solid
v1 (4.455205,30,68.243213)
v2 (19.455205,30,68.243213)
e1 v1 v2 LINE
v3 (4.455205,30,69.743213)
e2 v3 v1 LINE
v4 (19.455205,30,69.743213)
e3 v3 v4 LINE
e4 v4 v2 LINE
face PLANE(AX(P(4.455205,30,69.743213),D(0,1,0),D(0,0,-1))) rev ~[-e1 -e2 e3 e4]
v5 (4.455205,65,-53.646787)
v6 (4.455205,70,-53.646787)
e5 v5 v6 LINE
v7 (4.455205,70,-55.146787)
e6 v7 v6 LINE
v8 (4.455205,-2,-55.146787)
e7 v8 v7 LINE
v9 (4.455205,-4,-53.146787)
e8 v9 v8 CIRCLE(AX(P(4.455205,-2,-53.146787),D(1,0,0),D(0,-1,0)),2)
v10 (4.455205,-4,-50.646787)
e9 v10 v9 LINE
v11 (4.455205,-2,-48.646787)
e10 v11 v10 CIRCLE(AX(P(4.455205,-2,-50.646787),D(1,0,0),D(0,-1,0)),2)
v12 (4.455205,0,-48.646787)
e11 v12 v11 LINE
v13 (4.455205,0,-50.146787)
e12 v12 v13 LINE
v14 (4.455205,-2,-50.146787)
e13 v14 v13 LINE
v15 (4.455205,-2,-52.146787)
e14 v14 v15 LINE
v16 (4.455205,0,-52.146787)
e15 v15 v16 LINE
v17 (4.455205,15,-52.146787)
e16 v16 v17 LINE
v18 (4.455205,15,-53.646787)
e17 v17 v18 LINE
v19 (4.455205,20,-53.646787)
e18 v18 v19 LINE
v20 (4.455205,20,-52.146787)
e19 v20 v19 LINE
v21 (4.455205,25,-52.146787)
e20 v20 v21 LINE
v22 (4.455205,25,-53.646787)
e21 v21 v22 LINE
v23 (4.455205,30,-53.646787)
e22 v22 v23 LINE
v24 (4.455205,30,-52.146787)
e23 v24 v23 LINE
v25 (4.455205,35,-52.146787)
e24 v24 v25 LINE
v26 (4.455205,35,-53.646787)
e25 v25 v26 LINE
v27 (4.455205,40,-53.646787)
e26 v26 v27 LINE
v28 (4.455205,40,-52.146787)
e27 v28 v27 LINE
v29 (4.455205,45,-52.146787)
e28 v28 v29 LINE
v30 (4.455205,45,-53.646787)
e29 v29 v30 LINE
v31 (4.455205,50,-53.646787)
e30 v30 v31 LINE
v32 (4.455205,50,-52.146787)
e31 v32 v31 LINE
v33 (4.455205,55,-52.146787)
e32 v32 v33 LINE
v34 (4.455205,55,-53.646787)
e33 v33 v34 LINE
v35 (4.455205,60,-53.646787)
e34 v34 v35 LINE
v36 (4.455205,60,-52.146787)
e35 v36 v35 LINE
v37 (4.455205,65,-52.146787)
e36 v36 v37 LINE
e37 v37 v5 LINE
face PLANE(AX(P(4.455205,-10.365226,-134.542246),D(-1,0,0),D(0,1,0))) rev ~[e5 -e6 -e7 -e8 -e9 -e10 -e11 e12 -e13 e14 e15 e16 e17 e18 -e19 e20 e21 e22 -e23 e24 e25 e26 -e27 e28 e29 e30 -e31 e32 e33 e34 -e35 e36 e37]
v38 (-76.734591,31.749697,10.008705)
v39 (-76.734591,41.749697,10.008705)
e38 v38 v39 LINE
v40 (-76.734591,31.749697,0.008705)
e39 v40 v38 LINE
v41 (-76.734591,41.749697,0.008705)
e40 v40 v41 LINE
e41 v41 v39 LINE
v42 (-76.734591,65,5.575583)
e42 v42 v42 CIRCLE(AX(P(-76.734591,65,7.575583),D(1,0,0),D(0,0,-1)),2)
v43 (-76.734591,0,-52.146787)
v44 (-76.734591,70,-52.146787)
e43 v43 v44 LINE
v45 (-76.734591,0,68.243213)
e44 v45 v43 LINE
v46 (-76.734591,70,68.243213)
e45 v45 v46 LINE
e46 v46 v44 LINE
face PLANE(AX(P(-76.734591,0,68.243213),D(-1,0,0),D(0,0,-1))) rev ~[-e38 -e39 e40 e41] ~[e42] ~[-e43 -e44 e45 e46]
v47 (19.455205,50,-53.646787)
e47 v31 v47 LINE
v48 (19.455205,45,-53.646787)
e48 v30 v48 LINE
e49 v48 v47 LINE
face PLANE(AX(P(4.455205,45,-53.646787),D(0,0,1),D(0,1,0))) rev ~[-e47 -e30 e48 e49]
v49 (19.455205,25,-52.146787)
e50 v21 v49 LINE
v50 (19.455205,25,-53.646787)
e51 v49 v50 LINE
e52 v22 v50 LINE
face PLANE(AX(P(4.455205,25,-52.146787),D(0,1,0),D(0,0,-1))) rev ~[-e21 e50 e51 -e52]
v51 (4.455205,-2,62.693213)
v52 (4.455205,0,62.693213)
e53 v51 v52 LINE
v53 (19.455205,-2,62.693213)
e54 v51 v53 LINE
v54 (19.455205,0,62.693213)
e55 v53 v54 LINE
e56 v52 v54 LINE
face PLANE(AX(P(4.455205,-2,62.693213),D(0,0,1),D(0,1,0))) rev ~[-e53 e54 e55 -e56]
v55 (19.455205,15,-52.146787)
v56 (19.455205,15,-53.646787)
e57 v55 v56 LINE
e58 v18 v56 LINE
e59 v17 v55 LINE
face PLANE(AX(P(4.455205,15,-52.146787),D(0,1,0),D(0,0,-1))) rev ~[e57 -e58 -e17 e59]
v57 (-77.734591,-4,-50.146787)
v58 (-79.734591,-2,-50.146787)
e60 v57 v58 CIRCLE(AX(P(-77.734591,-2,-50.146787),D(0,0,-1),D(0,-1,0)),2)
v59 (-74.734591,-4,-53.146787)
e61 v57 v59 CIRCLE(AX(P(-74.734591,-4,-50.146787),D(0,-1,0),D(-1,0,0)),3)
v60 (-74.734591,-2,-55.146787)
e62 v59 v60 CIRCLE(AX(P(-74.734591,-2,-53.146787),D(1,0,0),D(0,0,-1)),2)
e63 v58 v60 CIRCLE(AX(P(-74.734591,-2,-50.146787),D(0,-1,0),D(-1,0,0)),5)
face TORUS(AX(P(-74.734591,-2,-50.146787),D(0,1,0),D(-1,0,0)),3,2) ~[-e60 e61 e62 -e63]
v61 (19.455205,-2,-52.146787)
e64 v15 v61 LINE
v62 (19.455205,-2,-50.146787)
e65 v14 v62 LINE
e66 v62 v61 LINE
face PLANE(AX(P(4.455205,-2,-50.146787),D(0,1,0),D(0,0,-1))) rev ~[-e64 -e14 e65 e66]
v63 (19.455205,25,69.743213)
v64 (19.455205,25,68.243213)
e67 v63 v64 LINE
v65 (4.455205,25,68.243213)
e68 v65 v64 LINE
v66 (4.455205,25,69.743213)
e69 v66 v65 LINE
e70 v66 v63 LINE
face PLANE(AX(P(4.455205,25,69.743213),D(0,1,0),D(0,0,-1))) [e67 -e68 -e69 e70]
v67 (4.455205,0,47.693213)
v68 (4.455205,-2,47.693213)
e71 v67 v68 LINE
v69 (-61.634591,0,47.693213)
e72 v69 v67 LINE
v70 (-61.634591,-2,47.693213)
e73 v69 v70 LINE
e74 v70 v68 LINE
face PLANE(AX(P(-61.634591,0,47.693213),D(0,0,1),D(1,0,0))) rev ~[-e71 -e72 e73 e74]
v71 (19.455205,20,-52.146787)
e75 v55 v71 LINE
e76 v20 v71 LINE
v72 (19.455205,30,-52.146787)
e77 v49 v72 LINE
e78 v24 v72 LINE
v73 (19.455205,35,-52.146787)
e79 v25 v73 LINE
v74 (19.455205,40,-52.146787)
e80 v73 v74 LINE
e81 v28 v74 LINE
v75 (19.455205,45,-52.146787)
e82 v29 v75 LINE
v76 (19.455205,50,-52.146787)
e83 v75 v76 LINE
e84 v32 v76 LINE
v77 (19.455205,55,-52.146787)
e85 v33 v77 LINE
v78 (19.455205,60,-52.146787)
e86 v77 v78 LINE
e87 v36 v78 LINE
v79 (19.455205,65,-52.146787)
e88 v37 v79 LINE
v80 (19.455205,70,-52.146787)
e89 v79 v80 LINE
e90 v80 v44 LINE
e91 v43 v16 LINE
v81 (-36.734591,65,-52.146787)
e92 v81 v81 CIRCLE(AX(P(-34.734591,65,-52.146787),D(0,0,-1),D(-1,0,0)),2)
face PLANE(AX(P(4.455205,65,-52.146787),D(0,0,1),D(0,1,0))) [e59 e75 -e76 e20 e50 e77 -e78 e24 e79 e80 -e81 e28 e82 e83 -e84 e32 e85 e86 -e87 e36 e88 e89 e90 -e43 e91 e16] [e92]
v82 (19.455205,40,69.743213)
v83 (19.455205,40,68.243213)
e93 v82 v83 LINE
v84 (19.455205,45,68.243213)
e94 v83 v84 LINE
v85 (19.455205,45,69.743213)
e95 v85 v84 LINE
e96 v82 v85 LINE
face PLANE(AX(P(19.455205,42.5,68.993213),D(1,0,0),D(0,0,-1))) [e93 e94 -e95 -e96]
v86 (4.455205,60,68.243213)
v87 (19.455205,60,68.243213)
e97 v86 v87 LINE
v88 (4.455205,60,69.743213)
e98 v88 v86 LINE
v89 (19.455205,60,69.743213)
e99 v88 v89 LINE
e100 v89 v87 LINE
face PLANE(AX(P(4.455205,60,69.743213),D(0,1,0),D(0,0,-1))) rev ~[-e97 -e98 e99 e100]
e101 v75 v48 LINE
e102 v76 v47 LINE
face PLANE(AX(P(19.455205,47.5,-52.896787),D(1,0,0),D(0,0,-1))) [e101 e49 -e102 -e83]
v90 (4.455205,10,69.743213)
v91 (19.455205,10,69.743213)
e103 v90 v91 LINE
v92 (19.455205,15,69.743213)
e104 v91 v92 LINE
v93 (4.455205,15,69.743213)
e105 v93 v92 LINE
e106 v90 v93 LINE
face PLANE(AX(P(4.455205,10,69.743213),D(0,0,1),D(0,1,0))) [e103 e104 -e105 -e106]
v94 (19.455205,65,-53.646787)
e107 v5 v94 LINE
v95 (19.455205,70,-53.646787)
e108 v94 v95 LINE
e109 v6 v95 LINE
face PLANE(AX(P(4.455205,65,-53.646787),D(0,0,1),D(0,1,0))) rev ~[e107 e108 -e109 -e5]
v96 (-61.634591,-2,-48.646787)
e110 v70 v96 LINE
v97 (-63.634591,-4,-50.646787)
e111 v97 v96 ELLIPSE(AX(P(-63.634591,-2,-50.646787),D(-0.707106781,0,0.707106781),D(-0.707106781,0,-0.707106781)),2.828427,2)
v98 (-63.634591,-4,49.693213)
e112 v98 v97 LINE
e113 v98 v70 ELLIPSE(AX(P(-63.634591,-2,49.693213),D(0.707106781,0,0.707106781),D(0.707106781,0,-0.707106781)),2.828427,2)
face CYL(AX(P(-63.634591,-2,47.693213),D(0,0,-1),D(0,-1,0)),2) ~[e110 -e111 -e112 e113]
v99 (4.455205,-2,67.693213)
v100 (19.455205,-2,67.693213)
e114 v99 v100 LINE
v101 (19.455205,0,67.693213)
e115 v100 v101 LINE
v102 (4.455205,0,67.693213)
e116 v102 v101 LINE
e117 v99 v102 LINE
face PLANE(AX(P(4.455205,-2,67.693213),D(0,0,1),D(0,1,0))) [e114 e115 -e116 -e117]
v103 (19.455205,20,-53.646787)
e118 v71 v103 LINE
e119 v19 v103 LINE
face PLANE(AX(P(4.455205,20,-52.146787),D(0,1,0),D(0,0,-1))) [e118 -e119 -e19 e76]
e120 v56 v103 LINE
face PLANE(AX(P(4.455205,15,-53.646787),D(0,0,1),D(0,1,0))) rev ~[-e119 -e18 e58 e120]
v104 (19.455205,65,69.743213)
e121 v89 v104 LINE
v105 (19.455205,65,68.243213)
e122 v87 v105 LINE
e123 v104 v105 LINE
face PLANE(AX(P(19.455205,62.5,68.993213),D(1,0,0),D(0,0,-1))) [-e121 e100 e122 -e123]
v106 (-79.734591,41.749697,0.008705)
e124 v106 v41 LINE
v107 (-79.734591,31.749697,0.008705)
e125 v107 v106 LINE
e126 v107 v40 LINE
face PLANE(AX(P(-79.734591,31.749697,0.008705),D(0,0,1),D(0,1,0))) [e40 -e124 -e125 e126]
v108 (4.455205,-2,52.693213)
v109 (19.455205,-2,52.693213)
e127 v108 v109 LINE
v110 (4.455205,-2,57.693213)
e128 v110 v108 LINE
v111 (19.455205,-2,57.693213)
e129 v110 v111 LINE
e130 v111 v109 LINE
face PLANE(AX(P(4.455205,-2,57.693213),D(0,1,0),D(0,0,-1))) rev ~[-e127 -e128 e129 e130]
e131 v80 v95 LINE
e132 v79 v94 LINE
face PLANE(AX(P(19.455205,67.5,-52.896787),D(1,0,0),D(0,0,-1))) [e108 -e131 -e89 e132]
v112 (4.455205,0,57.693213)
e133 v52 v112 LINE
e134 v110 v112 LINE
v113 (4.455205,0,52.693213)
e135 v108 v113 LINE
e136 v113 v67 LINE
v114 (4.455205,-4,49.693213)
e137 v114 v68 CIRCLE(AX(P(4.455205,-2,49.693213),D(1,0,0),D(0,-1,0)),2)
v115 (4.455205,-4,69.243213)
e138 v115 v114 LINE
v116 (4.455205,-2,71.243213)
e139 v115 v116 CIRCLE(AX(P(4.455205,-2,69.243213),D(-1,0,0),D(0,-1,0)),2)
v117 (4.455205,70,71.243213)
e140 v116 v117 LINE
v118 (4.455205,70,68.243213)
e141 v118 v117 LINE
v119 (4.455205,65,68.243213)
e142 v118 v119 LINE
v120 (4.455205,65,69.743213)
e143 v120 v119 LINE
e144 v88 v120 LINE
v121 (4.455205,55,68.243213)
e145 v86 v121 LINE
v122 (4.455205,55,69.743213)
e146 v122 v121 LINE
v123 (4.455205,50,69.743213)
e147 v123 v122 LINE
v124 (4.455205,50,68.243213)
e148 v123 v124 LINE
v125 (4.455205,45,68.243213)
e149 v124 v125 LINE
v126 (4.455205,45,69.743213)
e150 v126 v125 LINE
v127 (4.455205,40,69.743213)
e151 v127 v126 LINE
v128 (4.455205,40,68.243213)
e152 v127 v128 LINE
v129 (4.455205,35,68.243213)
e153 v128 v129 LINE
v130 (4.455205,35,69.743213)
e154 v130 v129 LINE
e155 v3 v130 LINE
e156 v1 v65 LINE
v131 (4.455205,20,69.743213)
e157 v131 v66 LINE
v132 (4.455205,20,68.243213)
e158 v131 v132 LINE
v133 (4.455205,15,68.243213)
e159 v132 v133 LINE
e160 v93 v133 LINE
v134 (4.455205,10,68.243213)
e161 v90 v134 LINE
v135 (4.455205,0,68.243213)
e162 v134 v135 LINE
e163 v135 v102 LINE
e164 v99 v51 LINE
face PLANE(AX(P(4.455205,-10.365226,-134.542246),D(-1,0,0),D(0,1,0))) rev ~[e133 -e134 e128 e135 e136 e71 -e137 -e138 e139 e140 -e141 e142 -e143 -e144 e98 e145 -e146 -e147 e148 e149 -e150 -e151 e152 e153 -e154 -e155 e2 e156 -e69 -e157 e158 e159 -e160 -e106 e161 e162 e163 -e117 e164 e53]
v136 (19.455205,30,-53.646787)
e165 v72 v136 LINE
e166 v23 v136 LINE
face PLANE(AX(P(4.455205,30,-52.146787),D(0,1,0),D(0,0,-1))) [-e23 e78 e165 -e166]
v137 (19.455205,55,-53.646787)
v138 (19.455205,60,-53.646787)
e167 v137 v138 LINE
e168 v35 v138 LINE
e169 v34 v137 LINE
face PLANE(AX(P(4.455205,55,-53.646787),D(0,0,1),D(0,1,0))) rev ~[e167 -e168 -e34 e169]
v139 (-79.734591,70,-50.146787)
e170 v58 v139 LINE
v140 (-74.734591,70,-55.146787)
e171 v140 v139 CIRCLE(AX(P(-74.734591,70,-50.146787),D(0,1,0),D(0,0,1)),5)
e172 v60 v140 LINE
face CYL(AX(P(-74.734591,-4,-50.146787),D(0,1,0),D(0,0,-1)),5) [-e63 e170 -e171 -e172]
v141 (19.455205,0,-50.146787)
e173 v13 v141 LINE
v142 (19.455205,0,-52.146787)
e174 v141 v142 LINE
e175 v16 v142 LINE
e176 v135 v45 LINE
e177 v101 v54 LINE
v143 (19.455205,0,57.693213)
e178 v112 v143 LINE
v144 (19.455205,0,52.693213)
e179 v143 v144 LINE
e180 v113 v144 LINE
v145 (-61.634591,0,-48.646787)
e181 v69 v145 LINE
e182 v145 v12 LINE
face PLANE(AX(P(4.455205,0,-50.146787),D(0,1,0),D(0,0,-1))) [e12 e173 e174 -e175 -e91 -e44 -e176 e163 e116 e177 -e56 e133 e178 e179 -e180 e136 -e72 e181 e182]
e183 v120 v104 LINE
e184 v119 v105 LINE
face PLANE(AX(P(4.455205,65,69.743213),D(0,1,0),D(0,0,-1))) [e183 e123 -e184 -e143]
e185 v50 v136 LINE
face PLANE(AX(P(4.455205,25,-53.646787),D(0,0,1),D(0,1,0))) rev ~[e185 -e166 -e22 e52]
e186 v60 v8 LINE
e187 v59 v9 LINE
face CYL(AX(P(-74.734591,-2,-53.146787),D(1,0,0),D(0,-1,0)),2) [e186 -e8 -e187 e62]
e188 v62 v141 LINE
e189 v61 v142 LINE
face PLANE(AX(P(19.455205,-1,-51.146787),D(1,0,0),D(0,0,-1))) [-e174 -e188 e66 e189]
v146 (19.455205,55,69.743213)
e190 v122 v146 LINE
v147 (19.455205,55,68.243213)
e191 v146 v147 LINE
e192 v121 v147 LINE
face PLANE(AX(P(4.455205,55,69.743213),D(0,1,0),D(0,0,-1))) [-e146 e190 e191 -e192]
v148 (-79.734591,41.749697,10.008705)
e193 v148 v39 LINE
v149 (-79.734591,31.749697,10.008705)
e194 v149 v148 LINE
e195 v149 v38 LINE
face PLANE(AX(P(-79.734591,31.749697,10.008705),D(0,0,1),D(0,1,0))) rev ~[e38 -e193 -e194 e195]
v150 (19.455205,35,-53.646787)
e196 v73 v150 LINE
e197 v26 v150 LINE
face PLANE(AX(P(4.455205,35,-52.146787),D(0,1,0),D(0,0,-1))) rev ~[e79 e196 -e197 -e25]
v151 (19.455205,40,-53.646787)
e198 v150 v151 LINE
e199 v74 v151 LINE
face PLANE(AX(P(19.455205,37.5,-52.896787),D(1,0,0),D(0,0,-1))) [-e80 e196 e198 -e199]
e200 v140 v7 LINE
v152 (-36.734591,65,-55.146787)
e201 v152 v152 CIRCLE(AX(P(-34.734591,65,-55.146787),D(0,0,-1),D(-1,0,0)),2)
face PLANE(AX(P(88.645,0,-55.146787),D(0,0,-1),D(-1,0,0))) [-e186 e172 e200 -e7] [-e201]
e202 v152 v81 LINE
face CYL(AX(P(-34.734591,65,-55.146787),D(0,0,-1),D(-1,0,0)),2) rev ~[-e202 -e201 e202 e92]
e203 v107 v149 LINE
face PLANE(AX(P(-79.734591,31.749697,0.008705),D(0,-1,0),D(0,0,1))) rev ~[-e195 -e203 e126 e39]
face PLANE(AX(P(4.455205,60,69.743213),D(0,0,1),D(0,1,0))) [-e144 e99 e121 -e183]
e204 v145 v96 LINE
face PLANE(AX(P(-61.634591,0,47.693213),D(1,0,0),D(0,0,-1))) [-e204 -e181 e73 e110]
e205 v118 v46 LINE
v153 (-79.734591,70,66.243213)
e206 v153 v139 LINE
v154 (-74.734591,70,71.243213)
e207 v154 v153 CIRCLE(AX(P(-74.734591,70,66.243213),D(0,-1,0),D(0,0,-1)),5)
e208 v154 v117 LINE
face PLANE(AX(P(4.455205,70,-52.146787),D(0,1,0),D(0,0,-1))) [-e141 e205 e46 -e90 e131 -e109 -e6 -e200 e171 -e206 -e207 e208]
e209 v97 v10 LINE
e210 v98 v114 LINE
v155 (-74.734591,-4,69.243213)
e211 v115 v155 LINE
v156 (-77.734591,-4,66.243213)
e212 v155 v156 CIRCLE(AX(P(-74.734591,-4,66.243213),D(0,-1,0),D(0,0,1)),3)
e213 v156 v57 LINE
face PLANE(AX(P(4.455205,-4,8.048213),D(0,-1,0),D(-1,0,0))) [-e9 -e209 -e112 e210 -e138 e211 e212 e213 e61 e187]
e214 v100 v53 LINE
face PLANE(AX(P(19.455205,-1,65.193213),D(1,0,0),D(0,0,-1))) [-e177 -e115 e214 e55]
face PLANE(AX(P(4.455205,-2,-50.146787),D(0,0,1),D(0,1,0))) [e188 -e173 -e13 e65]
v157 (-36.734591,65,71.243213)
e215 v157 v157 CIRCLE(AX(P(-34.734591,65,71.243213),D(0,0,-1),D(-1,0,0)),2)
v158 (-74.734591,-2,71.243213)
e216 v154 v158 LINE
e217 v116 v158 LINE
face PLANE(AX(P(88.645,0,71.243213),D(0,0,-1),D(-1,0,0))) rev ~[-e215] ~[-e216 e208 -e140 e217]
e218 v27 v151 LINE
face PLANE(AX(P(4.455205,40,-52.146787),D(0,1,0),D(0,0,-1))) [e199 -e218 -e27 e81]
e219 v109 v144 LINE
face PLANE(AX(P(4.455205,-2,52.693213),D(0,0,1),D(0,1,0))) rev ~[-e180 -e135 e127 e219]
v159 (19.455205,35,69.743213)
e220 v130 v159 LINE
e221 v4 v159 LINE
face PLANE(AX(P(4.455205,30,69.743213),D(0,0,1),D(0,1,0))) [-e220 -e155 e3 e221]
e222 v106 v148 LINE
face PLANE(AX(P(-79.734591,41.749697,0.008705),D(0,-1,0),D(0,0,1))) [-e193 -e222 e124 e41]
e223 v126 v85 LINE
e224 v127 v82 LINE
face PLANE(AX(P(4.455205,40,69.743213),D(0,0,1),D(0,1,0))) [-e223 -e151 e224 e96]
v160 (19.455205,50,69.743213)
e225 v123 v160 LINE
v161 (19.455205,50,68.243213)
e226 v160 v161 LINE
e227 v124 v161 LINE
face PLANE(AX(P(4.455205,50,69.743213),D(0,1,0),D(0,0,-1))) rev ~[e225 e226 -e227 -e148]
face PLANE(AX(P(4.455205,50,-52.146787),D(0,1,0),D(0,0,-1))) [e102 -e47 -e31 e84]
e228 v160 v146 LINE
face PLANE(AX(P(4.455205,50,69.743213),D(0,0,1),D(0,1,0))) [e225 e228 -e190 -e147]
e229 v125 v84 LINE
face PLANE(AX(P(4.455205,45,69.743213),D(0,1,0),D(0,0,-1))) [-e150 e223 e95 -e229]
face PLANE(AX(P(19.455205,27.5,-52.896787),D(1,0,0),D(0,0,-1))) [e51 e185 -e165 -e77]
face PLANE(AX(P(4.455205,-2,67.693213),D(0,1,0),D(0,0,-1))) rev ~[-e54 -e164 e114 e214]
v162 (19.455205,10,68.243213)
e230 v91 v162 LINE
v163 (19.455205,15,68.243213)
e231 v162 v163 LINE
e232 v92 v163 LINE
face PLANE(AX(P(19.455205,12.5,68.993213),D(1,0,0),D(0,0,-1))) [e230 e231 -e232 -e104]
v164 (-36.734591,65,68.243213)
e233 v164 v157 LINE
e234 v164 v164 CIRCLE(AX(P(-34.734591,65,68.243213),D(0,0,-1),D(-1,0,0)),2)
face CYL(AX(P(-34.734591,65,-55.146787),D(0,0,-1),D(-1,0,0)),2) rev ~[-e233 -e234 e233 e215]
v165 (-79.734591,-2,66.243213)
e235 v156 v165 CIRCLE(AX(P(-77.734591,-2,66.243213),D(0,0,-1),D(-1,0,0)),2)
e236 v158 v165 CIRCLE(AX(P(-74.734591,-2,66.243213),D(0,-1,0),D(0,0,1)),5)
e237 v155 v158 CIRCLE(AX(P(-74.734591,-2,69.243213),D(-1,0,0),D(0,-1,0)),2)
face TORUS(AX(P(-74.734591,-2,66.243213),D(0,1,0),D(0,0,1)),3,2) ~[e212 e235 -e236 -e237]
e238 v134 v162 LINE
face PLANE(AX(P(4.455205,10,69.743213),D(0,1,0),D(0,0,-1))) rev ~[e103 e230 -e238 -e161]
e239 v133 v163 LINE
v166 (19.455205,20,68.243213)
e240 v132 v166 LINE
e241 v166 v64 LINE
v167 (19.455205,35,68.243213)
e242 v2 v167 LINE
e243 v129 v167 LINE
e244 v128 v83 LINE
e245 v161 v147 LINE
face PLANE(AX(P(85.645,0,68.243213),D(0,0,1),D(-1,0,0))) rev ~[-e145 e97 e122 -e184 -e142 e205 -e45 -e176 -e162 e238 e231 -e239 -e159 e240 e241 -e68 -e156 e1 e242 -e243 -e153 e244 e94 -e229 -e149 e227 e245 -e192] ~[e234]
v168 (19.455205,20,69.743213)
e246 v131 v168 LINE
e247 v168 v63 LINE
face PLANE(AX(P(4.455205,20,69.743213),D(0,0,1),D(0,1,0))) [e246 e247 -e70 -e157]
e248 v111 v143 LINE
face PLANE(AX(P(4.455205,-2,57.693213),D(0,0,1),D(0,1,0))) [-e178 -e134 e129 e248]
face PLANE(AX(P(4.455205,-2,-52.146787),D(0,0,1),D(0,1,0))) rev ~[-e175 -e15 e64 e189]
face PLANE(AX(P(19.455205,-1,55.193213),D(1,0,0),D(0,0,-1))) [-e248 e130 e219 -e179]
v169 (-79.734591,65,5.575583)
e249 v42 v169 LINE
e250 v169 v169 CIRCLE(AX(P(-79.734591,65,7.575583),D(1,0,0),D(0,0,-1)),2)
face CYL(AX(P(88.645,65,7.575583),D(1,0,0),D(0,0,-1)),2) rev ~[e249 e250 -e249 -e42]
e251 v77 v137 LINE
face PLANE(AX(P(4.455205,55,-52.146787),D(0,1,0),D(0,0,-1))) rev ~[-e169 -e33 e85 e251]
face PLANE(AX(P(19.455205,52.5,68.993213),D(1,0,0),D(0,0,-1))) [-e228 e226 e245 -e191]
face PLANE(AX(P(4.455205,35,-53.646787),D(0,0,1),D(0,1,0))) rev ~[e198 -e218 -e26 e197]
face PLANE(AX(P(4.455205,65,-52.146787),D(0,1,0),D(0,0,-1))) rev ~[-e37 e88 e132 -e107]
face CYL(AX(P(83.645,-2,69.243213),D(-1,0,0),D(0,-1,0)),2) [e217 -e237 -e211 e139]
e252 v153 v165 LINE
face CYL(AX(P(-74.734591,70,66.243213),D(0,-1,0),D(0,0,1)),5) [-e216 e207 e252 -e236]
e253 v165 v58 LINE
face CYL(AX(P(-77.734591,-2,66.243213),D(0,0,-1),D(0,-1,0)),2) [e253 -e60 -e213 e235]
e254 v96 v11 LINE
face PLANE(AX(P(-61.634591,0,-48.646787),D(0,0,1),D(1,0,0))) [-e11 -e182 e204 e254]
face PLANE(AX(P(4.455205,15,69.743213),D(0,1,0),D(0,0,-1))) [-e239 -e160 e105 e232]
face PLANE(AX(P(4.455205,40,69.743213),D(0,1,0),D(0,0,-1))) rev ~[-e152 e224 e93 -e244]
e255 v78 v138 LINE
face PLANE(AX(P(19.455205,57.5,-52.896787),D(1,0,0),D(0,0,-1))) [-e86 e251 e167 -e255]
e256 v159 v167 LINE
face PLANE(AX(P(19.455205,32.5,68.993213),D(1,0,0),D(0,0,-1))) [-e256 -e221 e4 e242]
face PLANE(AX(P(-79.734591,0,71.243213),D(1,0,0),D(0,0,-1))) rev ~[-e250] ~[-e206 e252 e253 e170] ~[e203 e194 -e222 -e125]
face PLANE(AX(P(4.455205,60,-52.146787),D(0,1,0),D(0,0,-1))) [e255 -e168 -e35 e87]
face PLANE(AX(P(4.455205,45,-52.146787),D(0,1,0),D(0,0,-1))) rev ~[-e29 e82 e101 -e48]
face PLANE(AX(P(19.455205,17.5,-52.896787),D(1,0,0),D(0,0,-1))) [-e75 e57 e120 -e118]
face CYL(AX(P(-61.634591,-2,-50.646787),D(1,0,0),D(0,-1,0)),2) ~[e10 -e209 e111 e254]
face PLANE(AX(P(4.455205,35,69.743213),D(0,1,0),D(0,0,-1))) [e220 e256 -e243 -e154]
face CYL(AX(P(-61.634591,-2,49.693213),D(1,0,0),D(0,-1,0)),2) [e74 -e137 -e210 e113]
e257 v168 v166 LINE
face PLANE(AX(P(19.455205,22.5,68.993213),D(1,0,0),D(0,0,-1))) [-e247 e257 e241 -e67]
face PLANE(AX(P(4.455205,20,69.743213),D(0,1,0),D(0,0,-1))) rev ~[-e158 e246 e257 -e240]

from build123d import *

# Parameters (mm, degrees)
SKETCH1_W               = 168.379590863
SKETCH1_H               = 126.39
BOSS_EXTRUDE1_DEPTH     = 70
SKETCH2_W               = 168.379590863
SKETCH2_H               = 126.39
BOSS_EXTRUDE2_DEPTH     = 4
SKETCH3_W               = 142.779590863
SKETCH3_H               = 96.34
CUT_EXTRUDE1_DEPTH      = 4
FILLET1_R               = 5
FILLET4_R               = 2
FILLET5_R               = 2
SKETCH4_W               = 10
SKETCH4_H               = 10
CUT_EXTRUDE2_DEPTH      = 195
SKETCH6_R               = 2
CUT_EXTRUDE3_DEPTH      = 195
SKETCH8_R               = 2
CUT_EXTRUDE4_DEPTH      = 195
CUT_EXTRUDE5_DEPTH      = 134.542245944
CUT_EXTRUDE5_DEPTH_BACK = 134.542245944
SKETCH12_W              = 87.181234027
SKETCH12_H              = 80.365226026
SKETCH14_W              = 5
SKETCH14_H              = 2
BOSS_EXTRUDE4_DEPTH     = 15
SKETCH17_W              = 2
SKETCH17_H              = 2
BOSS_EXTRUDE5_DEPTH     = 15
SKETCH18_W              = 1.5
SKETCH18_H              = 5
BOSS_EXTRUDE8_DEPTH     = 15
SKETCH19_W              = 1.5
SKETCH19_H              = 5
BOSS_EXTRUDE9_DEPTH     = 15


with BuildPart() as part:
    # Sketch1 → Boss-Extrude1 (new body)
    with BuildSketch(Plane(origin=(0, 0, 0), x_dir=(1, 0, 0), z_dir=(0, 1, 0))):
        with Locations((4.455204569, -8.048213198)):
            Rectangle(SKETCH1_W, SKETCH1_H)
        Polygon((-76.734590863, 32.146786802), (-76.734590863, 52.146786802), (85.645, 52.146786802), (85.645, -68.243213198), (60.555409137, -68.243213198), (-76.734590863, -68.243213198), align=None, mode=Mode.SUBTRACT)
    extrude(amount=BOSS_EXTRUDE1_DEPTH)

    # Sketch2 → Boss-Extrude2 (add)
    with BuildSketch(Plane(origin=(0, 0, 0), x_dir=(-1, 0, 0), z_dir=(0, -1, 0))):
        with Locations((-4.455204569, -8.048213198)):
            Rectangle(SKETCH2_W, SKETCH2_H)
    extrude(amount=BOSS_EXTRUDE2_DEPTH)

    # Sketch3 → Cut-Extrude1 (cut)
    with BuildSketch(Plane(origin=(0, 0, 0), x_dir=(1, 0, 0), z_dir=(0, 1, 0))):
        with Locations((9.755204569, 0.476786802)):
            Rectangle(SKETCH3_W, SKETCH3_H)
    extrude(amount=-CUT_EXTRUDE1_DEPTH, mode=Mode.SUBTRACT)

    # Fillet1
    fillet1_edges = [part.edges().sort_by_distance(p)[0] for p in [
        (-79.734590863, 33, -55.146786802),
        (88.645, 33, -55.146786802),
        (88.645, 33, 71.243213198),
        (-79.734590863, 33, 71.243213198),
    ]]
    fillet(fillet1_edges, radius=FILLET1_R)

    # Fillet4
    fillet4_edges = [part.edges().sort_by_distance(p)[0] for p in [
        (4.455204569, -4, 71.243213198),
        (-79.734590863, -4, 8.048213198),
        (4.455204569, -4, -55.146786802),
        (88.645, -4, 8.048213198),
        (87.180533906, -4, 69.778747104),
        (87.180533906, -4, -53.682320708),
        (-78.270124769, -4, -53.682320708),
        (-78.270124769, -4, 69.778747104),
    ]]
    fillet(fillet4_edges, radius=FILLET4_R)

    # Fillet5
    fillet5_edges = [part.edges().sort_by_distance(p)[0] for p in [
        (81.145, -4, -0.476786802),
        (9.755204569, -4, 47.693213198),
        (-61.634590863, -4, -0.476786802),
        (9.755204569, -4, -48.646786802),
    ]]
    fillet(fillet5_edges, radius=FILLET5_R)

    # Sketch4 → Cut-Extrude2 (cut)
    with BuildSketch(Plane.ZY.offset(79.734590863)):
        with Locations((5.00870497, 36.749697215)):
            Rectangle(SKETCH4_W, SKETCH4_H)
    extrude(amount=-CUT_EXTRUDE2_DEPTH, mode=Mode.SUBTRACT)

    # Sketch6 → Cut-Extrude3 (cut)
    with BuildSketch(Plane(origin=(88.645, 0, 0), x_dir=(0, 0, -1), z_dir=(1, 0, 0))):
        with Locations((-7.57558331, 65)):
            Circle(SKETCH6_R)
    extrude(amount=-CUT_EXTRUDE3_DEPTH, mode=Mode.SUBTRACT)

    # Sketch8 → Cut-Extrude4 (cut)
    with BuildSketch(Plane(origin=(0, 0, -55.146786802), x_dir=(-1, 0, 0), z_dir=(0, 0, -1))):
        with Locations((-43.645, 65)):
            Circle(SKETCH8_R)
        with Locations((34.734590863, 65)):
            Circle(SKETCH8_R)
    extrude(amount=-CUT_EXTRUDE4_DEPTH, mode=Mode.SUBTRACT)

    # Sketch12 → Cut-Extrude5 (cut, two sides: drawn at the far end of the back side and taken through both)
    with BuildSketch(Plane.XY.offset(-CUT_EXTRUDE5_DEPTH_BACK)):
        with Locations((48.045821583, 29.817386987)):
            Rectangle(SKETCH12_W, SKETCH12_H)
    extrude(amount=CUT_EXTRUDE5_DEPTH + CUT_EXTRUDE5_DEPTH_BACK, mode=Mode.SUBTRACT)

    # Sketch14 → Boss-Extrude4 (add)
    with BuildSketch(Plane(origin=(4.455204569, 0, 0), x_dir=(0, 0, -1), z_dir=(1, 0, 0))):
        with Locations((-55.193213198, -1)):
            Rectangle(SKETCH14_W, SKETCH14_H)
        with Locations((-65.193213198, -1)):
            Rectangle(SKETCH14_W, SKETCH14_H)
    extrude(amount=BOSS_EXTRUDE4_DEPTH)

    # Sketch17 → Boss-Extrude5 (add)
    with BuildSketch(Plane(origin=(4.455204569, 0, 0), x_dir=(0, 0, -1), z_dir=(1, 0, 0))):
        with Locations((51.146786802, -1)):
            Rectangle(SKETCH17_W, SKETCH17_H)
    extrude(amount=BOSS_EXTRUDE5_DEPTH)

    # Sketch18 → Boss-Extrude8 (add)
    with BuildSketch(Plane(origin=(4.455204569, 0, 0), x_dir=(0, 0, -1), z_dir=(1, 0, 0))):
        with Locations((-68.993213198, 62.5)):
            Rectangle(SKETCH18_W, SKETCH18_H)
        with Locations((-68.993213198, 52.5)):
            Rectangle(SKETCH18_W, SKETCH18_H)
        with Locations((-68.993213198, 42.5)):
            Rectangle(SKETCH18_W, SKETCH18_H)
        with Locations((-68.993213198, 32.5)):
            Rectangle(SKETCH18_W, SKETCH18_H)
        with Locations((-68.993213198, 22.5)):
            Rectangle(SKETCH18_W, SKETCH18_H)
        with Locations((-68.993213198, 12.5)):
            Rectangle(SKETCH18_W, SKETCH18_H)
    extrude(amount=BOSS_EXTRUDE8_DEPTH)

    # Sketch19 → Boss-Extrude9 (add)
    with BuildSketch(Plane(origin=(4.455204569, 0, 0), x_dir=(0, 0, -1), z_dir=(1, 0, 0))):
        with Locations((52.896786802, 57.5)):
            Rectangle(SKETCH19_W, SKETCH19_H)
        with Locations((52.896786802, 67.5)):
            Rectangle(SKETCH19_W, SKETCH19_H)
        with Locations((52.896786802, 47.5)):
            Rectangle(SKETCH19_W, SKETCH19_H)
        with Locations((52.896786802, 37.5)):
            Rectangle(SKETCH19_W, SKETCH19_H)
        with Locations((52.896786802, 27.5)):
            Rectangle(SKETCH19_W, SKETCH19_H)
        with Locations((52.896786802, 17.5)):
            Rectangle(SKETCH19_W, SKETCH19_H)
    extrude(amount=BOSS_EXTRUDE9_DEPTH)


solid = part.part
